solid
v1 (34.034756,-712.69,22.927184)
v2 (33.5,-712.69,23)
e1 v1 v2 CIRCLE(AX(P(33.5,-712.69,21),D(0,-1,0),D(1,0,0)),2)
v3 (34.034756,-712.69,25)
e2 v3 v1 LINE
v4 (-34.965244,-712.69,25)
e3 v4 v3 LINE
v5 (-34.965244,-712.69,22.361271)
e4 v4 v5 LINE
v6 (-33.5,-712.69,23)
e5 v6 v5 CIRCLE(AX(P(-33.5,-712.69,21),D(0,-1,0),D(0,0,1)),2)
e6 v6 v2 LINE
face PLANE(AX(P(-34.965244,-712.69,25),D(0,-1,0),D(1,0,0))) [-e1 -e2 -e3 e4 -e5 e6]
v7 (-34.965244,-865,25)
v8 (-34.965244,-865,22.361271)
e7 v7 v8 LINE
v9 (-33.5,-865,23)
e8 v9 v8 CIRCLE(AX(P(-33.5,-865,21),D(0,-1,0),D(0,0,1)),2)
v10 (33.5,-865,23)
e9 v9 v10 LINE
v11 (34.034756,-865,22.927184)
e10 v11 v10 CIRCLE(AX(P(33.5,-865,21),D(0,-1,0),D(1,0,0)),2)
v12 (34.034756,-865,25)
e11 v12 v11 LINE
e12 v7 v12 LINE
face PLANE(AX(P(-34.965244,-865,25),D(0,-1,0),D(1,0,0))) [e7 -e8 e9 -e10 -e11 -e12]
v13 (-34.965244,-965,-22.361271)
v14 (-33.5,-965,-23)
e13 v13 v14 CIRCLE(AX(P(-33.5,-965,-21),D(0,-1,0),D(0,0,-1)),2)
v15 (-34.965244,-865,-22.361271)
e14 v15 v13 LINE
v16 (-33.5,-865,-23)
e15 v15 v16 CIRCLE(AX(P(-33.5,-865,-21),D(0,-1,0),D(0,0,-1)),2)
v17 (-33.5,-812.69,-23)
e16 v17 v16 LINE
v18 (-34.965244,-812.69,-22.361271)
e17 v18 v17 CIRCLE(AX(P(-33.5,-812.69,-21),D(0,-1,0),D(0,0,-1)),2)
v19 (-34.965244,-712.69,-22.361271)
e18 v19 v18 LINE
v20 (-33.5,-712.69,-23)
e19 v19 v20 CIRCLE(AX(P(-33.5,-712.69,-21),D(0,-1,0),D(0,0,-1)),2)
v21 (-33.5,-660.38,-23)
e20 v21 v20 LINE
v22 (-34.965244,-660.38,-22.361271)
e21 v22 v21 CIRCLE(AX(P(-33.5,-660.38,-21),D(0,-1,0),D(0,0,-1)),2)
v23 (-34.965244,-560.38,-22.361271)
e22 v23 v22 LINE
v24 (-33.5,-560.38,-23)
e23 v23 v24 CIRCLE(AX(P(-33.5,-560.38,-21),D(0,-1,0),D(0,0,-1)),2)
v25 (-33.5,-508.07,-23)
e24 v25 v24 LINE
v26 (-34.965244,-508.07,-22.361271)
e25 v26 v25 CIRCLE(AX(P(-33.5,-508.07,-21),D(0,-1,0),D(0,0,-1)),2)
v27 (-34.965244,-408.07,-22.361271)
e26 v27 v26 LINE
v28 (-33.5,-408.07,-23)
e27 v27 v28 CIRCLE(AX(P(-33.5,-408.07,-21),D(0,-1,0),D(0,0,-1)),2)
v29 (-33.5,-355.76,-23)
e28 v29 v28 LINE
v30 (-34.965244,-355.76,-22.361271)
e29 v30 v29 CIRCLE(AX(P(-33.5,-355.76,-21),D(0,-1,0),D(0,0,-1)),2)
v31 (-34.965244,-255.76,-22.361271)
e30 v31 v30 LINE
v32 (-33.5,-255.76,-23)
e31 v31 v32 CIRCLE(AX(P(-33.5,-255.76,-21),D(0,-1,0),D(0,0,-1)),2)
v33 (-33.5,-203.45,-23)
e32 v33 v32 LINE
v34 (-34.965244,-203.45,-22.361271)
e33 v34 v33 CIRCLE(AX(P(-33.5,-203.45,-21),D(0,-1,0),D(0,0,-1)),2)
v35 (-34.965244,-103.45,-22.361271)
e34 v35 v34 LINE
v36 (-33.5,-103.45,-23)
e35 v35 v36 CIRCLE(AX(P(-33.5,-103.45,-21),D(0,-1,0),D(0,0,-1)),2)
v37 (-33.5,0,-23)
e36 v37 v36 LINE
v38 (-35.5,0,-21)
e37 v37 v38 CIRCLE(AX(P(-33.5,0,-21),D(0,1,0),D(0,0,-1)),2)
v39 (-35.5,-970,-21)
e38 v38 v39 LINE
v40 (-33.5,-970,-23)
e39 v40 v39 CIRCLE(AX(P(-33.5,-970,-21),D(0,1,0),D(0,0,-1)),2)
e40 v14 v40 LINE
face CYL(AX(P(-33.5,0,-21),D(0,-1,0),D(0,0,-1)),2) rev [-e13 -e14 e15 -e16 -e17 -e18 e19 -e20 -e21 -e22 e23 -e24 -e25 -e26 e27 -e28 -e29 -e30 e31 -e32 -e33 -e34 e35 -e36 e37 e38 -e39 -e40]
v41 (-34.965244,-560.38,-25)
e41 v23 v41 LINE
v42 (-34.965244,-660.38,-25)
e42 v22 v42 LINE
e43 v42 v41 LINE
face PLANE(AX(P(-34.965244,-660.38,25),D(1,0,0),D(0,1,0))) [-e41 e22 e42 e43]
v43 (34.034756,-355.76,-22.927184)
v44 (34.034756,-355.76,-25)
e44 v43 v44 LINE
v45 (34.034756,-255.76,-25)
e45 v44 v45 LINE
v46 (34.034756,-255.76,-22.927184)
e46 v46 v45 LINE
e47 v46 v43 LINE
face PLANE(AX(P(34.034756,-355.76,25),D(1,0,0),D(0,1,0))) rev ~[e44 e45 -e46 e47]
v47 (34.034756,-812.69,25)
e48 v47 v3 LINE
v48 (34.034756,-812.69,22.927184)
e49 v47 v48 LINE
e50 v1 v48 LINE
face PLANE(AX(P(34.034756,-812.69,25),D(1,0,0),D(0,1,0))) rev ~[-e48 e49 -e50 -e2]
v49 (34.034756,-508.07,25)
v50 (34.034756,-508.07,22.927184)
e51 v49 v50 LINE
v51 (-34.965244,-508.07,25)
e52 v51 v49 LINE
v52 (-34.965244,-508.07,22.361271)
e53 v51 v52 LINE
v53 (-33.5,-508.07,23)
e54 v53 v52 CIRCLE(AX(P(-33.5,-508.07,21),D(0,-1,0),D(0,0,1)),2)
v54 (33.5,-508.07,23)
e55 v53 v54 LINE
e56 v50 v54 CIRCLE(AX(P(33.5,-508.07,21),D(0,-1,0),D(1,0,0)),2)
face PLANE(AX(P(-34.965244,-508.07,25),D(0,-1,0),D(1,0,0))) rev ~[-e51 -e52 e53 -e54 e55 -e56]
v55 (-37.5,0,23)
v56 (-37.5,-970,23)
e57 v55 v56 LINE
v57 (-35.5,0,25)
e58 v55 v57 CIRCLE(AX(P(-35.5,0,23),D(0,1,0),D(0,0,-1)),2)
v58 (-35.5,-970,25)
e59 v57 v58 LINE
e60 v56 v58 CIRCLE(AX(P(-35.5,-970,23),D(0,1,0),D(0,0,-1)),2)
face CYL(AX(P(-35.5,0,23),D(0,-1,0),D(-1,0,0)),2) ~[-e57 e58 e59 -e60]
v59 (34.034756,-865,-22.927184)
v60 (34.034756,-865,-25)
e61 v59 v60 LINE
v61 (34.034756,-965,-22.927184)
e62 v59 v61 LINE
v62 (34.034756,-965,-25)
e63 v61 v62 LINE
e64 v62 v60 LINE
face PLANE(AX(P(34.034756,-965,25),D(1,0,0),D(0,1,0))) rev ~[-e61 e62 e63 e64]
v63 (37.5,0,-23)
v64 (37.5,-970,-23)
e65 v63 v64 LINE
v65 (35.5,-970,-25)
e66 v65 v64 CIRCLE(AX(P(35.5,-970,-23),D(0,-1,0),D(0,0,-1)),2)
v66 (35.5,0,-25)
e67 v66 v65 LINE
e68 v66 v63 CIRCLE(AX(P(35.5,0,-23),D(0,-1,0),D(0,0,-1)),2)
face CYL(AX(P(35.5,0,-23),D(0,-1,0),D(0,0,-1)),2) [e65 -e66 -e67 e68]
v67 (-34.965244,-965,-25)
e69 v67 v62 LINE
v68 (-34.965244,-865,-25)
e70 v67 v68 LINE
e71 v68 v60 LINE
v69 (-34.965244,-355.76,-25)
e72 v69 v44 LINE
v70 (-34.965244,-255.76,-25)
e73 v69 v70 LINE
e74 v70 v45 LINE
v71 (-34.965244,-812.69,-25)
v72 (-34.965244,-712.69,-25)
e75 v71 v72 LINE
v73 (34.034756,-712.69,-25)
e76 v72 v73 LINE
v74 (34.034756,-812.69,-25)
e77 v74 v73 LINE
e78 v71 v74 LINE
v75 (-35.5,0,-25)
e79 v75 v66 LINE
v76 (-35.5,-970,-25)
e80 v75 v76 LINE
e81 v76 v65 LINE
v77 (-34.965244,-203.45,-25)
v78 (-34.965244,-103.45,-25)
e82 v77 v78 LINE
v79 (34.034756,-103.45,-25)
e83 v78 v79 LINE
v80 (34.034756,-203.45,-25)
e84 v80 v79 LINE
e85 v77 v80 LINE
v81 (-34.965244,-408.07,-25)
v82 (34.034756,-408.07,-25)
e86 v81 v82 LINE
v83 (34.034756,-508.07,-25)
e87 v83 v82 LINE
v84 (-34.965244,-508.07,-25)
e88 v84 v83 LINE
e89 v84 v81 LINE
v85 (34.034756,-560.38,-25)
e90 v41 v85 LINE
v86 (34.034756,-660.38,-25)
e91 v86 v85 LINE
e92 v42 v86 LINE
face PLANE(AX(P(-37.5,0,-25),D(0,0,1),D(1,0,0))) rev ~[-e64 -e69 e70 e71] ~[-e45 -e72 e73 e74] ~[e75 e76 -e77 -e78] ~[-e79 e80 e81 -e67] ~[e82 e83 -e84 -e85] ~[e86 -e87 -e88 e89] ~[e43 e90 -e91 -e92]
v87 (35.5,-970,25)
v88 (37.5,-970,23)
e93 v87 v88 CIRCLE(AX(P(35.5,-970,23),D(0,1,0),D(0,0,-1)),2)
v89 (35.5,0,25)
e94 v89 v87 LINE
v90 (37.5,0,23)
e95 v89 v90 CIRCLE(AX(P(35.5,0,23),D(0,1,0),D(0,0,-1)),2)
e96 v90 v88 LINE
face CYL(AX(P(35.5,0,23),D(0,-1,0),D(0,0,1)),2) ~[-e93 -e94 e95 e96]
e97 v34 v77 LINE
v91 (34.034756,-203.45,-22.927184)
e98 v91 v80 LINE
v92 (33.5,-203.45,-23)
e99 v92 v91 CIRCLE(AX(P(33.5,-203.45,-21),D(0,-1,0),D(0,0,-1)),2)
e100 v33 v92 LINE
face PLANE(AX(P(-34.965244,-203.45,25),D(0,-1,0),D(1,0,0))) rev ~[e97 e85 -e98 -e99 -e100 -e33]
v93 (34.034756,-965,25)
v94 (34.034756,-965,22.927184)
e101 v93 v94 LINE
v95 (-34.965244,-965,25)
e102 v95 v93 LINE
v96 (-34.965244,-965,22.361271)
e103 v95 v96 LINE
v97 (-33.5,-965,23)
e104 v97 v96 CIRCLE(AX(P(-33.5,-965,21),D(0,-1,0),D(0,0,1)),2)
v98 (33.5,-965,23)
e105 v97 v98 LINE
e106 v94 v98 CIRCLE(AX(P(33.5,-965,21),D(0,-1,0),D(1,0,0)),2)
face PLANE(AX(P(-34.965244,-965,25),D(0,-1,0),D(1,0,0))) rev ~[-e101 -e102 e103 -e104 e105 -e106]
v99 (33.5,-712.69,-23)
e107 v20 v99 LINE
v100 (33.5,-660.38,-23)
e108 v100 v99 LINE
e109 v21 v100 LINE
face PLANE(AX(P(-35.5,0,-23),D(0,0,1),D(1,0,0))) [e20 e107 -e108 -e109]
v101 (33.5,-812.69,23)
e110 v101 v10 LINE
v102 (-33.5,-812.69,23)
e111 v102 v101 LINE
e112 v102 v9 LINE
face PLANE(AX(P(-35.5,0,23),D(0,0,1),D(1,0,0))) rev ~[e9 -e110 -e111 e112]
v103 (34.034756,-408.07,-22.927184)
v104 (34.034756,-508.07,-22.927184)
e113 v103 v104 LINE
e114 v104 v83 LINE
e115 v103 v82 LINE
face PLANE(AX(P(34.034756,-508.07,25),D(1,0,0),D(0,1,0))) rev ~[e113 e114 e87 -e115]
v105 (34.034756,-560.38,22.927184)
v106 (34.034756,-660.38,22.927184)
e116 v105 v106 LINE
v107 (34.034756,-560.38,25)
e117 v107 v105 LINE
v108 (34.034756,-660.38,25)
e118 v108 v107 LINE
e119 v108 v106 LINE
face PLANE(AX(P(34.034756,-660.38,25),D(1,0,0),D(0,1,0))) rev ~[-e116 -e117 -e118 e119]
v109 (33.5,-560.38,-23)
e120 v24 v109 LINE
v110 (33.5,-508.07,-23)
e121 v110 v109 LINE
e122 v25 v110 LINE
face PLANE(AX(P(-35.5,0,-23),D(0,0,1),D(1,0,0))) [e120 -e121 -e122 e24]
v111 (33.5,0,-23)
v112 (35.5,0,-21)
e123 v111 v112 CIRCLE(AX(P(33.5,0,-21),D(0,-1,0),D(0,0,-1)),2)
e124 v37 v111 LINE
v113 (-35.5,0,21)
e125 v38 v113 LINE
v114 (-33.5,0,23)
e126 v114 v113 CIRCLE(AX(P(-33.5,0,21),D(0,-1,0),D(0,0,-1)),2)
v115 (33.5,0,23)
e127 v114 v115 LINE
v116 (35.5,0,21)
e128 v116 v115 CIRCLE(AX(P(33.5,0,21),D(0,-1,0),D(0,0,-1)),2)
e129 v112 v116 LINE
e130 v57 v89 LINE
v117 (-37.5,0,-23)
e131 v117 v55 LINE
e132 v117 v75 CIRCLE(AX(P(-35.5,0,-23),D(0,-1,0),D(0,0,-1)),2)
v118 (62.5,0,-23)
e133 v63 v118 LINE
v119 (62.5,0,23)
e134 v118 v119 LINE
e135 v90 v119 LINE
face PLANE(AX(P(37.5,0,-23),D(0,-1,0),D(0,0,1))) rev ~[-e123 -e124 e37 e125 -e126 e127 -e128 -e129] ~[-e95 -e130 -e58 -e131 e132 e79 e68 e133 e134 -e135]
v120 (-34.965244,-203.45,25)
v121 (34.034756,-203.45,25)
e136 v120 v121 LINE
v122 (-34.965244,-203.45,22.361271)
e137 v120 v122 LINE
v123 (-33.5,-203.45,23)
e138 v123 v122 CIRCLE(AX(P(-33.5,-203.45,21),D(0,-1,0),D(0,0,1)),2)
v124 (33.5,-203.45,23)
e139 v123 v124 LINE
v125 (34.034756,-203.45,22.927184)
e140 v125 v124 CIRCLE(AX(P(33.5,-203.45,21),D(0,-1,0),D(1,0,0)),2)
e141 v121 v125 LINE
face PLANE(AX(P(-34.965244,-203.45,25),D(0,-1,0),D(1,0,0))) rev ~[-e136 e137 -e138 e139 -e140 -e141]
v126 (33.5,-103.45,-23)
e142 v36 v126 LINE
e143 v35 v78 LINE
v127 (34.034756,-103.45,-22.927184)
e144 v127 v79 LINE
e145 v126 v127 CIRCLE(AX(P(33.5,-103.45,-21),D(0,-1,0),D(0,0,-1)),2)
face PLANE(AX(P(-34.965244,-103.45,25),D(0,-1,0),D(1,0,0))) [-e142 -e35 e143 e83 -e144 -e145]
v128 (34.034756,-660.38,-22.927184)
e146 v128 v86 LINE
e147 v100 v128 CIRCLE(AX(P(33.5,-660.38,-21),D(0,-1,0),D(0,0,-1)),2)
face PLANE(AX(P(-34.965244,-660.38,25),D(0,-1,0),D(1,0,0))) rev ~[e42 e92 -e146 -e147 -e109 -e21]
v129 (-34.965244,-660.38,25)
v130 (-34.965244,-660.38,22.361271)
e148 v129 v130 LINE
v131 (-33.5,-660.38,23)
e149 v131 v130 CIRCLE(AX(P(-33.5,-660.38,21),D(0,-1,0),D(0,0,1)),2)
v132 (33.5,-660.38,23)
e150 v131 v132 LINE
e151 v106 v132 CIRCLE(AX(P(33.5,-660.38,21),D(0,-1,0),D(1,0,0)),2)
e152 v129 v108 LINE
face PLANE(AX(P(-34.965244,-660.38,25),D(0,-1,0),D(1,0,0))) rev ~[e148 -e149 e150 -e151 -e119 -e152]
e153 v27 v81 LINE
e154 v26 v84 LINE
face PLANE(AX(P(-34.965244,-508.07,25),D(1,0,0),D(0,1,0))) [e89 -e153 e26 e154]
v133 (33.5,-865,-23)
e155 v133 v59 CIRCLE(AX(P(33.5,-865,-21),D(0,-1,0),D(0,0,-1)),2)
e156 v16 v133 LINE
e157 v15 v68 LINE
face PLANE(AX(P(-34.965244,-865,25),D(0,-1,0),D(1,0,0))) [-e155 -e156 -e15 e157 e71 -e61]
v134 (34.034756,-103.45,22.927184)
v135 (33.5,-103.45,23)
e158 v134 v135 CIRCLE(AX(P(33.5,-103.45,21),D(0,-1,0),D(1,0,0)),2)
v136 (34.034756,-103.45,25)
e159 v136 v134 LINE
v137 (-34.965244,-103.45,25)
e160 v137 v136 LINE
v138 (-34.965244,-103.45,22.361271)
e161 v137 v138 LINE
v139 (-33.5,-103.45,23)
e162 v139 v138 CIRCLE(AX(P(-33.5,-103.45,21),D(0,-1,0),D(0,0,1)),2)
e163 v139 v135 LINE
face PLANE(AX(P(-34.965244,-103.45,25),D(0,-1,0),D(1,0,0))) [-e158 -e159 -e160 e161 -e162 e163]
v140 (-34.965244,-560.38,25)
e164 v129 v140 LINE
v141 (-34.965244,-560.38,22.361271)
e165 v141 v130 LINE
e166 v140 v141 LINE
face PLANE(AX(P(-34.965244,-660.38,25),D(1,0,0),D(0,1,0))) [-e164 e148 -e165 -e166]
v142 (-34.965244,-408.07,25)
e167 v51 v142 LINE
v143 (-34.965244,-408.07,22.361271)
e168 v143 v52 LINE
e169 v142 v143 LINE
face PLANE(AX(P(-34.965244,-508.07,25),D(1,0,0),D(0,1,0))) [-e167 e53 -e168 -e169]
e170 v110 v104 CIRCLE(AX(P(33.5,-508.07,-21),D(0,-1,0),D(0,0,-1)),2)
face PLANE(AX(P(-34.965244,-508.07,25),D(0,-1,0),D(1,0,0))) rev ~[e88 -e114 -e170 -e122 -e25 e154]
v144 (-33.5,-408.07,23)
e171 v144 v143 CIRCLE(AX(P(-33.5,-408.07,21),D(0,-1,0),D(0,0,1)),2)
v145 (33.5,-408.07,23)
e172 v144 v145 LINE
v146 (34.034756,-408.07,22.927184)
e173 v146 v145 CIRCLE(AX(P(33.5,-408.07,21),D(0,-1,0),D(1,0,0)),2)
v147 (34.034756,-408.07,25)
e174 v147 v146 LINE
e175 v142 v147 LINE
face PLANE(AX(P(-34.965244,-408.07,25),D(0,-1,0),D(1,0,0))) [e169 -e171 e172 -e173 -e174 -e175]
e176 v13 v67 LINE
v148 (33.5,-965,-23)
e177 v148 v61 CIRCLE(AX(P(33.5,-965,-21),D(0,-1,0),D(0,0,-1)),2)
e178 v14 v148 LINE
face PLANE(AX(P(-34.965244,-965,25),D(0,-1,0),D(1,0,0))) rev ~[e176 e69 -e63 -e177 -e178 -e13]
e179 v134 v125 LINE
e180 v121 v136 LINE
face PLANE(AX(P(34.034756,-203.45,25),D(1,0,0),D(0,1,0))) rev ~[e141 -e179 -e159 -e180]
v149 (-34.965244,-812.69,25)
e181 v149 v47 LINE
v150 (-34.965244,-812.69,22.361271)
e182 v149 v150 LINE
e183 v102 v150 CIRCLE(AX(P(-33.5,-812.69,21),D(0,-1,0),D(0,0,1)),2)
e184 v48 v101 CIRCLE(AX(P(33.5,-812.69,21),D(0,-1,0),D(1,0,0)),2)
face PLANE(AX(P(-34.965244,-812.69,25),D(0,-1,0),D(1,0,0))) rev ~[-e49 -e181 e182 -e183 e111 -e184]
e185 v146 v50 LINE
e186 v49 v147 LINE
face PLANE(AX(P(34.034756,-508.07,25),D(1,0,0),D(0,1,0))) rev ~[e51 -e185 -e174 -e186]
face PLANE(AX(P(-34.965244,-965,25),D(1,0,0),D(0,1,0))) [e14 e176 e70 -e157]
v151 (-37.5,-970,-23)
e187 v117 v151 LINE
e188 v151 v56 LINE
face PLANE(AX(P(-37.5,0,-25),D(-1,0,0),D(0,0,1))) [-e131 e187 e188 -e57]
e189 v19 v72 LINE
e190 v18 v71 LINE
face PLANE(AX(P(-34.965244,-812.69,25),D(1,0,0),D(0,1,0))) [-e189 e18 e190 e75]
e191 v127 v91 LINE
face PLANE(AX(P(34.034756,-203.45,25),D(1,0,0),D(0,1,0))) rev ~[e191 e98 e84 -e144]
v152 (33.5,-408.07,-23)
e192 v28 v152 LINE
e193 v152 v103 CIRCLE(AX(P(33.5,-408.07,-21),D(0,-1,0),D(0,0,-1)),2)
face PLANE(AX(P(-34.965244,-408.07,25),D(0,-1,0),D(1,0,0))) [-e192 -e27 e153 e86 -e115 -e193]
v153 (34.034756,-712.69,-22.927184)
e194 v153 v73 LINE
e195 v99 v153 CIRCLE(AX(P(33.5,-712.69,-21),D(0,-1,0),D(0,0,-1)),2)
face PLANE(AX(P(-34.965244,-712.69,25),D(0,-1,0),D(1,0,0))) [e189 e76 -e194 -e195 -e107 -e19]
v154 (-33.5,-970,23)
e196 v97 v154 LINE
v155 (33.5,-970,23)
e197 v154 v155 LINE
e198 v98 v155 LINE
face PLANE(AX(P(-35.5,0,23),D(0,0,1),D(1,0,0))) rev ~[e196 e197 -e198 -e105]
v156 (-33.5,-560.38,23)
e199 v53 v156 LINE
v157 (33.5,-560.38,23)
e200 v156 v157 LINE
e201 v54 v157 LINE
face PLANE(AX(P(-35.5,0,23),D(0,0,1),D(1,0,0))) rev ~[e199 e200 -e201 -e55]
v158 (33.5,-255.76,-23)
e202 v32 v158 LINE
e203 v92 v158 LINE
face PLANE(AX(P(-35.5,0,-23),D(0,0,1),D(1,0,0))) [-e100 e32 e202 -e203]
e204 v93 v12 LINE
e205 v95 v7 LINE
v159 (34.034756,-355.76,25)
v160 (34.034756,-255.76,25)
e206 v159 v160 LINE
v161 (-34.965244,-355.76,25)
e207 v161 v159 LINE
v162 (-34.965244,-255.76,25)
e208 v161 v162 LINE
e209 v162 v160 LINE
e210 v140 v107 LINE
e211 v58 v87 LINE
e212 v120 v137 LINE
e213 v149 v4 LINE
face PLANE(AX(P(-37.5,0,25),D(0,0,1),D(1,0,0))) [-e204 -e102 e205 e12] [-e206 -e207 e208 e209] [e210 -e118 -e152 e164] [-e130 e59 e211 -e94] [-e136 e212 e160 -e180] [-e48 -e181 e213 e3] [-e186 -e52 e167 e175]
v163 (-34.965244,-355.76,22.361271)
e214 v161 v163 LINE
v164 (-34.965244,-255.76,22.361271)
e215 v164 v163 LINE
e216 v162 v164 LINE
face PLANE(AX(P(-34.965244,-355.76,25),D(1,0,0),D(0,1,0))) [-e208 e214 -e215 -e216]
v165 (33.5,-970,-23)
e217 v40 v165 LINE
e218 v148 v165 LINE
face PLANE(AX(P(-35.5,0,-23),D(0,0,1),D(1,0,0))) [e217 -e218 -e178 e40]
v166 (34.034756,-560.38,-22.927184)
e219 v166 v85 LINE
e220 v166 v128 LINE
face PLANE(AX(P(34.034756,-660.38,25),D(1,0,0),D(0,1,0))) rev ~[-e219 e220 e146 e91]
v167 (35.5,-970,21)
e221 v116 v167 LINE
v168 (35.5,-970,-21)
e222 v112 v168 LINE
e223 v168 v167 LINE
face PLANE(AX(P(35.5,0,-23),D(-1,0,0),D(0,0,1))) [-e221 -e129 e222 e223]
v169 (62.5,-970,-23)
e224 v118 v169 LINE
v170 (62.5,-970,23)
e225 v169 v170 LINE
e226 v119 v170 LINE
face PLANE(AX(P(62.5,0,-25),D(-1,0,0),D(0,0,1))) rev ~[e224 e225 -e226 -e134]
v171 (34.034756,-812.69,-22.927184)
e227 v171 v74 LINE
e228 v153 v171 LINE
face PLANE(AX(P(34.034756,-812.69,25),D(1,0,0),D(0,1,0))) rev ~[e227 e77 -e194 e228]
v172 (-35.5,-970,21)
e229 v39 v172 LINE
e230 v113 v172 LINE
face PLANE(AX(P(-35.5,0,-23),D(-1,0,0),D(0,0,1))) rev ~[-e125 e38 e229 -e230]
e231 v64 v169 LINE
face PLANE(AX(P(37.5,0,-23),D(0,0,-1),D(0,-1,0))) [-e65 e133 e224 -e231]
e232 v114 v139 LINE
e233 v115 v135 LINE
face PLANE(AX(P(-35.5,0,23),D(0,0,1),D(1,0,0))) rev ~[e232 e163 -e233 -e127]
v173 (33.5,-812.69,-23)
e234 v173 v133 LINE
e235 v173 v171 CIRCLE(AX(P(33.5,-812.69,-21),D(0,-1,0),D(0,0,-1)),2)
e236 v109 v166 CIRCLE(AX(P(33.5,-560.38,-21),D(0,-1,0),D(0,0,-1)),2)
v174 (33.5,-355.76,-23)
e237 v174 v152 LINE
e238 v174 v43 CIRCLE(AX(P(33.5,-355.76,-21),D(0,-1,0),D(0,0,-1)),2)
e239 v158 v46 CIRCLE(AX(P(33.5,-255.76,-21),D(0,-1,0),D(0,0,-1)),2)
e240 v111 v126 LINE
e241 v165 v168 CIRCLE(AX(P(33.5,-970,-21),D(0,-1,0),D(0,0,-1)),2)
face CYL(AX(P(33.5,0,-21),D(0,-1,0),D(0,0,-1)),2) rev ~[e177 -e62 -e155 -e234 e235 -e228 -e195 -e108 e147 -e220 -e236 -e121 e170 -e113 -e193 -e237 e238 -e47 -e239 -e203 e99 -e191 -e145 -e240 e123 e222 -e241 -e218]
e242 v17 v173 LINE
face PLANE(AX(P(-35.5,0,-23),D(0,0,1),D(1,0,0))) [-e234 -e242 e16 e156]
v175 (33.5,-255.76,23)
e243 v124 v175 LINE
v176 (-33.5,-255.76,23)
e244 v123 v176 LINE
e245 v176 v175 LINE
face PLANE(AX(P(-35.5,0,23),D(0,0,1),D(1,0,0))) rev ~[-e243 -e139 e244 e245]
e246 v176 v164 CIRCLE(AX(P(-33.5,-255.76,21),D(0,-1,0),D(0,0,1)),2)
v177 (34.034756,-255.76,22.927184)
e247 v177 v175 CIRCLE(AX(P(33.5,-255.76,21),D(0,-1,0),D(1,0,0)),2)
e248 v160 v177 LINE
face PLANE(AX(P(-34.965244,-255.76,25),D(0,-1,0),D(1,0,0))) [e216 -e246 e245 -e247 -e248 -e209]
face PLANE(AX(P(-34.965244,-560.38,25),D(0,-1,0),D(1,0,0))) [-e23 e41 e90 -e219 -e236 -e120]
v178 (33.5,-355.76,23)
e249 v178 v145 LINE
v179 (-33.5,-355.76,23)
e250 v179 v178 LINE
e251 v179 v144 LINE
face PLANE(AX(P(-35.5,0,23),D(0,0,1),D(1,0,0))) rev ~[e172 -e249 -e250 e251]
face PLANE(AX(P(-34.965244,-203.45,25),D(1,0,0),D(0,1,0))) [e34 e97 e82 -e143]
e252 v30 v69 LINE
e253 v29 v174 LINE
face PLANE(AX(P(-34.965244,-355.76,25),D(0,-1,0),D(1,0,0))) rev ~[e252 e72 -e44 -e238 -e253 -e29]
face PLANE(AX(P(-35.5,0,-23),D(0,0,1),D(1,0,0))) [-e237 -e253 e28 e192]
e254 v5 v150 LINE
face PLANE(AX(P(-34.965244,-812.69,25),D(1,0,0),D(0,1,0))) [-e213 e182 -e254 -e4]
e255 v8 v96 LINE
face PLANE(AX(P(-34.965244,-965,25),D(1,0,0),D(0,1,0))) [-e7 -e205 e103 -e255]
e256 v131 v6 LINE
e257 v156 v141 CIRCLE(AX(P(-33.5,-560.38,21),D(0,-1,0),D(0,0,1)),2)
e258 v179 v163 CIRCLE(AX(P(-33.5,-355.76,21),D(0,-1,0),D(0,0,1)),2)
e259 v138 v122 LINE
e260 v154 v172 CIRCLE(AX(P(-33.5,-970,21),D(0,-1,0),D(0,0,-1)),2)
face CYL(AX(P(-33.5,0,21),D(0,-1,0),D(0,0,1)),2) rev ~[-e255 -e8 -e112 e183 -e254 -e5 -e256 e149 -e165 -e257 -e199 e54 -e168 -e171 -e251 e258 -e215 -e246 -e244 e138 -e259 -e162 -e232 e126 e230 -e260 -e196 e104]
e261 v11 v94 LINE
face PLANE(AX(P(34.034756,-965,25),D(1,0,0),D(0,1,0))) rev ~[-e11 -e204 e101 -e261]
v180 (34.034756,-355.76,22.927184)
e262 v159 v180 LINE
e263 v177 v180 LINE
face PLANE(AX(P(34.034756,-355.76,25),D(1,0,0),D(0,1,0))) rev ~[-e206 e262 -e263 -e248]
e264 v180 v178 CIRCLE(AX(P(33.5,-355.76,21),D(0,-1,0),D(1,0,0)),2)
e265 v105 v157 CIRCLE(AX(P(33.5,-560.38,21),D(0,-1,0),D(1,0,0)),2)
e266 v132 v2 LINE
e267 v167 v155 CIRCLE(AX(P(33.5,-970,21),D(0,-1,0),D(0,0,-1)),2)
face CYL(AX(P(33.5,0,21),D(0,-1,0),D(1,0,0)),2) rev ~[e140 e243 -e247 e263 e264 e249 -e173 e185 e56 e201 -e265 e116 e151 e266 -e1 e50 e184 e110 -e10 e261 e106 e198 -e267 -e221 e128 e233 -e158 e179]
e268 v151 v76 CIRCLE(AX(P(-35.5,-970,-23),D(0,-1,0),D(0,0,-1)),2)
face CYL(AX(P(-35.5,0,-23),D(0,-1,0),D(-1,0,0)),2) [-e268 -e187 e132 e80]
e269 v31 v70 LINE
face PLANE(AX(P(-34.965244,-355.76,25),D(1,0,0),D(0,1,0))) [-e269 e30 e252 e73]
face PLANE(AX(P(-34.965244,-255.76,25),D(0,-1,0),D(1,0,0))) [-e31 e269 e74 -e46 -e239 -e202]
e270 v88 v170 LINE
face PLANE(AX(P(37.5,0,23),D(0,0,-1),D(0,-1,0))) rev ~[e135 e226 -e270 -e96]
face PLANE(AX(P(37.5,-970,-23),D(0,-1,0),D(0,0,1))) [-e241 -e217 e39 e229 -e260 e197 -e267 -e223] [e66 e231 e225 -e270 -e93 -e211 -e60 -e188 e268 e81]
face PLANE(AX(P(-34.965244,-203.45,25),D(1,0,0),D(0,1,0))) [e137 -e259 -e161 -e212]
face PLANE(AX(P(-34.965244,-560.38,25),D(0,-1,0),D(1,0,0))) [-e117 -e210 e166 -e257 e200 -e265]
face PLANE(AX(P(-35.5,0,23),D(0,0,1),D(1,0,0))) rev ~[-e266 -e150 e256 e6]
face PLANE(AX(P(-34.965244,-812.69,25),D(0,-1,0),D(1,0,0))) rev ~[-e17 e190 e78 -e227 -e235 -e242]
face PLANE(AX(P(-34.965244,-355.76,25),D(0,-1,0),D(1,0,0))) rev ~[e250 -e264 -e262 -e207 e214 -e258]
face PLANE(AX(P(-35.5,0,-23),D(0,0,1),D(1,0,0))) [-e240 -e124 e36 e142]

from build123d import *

# Parameters (mm, degrees)
F0_W     = 75
F0_H     = 50
F0_W_2   = 71
F0_H_2   = 46
F1_DEPTH = 970
F3_R     = 2
F4_R     = 2
F2_W     = 69
F2_H     = 100
F5_DEPTH = 60
F6_DEPTH = 25


with BuildPart() as f1:
    # F0 (on Front) → F1 (new body)
    with BuildSketch(Plane.XZ):
        Rectangle(F0_W, F0_H)
        Rectangle(F0_W_2, F0_H_2, mode=Mode.SUBTRACT)
    extrude(amount=F1_DEPTH)

    # F3
    f3_edges = [f1.edges().sort_by_distance(p)[0] for p in [
        (-37.5, -485, 25),
        (37.5, -485, 25),
        (37.5, -485, -25),
        (-37.5, -485, -25),
    ]]
    fillet(f3_edges, radius=F3_R)

    # F4
    f4_edges = [f1.edges().sort_by_distance(p)[0] for p in [
        (-35.5, -485, 23),
        (-35.5, -485, -23),
        (35.5, -485, -23),
        (35.5, -485, 23),
    ]]
    fillet(f4_edges, radius=F4_R)

    # F2 (on face) → F5 (cut)
    with BuildSketch(Plane.XY.offset(25)):
        with Locations((-0.4652442876, -915)):
            Rectangle(F2_W, F2_H)
        with Locations((-0.4652442876, -762.69)):
            Rectangle(F2_W, F2_H)
        with Locations((-0.4652442876, -610.38)):
            Rectangle(F2_W, F2_H)
        with Locations((-0.4652442876, -458.07)):
            Rectangle(F2_W, F2_H)
        with Locations((-0.4652442876, -305.76)):
            Rectangle(F2_W, F2_H)
        with Locations((-0.4652442876, -153.45)):
            Rectangle(F2_W, F2_H)
    extrude(amount=-F5_DEPTH, mode=Mode.SUBTRACT)

    # F6 (add): a face of the model
    f6_faces = [f1.faces().sort_by_distance(p)[0] for p in [
        (37.5, -485, 0),
    ]]
    extrude(f6_faces, amount=F6_DEPTH)


solid = f1.part
